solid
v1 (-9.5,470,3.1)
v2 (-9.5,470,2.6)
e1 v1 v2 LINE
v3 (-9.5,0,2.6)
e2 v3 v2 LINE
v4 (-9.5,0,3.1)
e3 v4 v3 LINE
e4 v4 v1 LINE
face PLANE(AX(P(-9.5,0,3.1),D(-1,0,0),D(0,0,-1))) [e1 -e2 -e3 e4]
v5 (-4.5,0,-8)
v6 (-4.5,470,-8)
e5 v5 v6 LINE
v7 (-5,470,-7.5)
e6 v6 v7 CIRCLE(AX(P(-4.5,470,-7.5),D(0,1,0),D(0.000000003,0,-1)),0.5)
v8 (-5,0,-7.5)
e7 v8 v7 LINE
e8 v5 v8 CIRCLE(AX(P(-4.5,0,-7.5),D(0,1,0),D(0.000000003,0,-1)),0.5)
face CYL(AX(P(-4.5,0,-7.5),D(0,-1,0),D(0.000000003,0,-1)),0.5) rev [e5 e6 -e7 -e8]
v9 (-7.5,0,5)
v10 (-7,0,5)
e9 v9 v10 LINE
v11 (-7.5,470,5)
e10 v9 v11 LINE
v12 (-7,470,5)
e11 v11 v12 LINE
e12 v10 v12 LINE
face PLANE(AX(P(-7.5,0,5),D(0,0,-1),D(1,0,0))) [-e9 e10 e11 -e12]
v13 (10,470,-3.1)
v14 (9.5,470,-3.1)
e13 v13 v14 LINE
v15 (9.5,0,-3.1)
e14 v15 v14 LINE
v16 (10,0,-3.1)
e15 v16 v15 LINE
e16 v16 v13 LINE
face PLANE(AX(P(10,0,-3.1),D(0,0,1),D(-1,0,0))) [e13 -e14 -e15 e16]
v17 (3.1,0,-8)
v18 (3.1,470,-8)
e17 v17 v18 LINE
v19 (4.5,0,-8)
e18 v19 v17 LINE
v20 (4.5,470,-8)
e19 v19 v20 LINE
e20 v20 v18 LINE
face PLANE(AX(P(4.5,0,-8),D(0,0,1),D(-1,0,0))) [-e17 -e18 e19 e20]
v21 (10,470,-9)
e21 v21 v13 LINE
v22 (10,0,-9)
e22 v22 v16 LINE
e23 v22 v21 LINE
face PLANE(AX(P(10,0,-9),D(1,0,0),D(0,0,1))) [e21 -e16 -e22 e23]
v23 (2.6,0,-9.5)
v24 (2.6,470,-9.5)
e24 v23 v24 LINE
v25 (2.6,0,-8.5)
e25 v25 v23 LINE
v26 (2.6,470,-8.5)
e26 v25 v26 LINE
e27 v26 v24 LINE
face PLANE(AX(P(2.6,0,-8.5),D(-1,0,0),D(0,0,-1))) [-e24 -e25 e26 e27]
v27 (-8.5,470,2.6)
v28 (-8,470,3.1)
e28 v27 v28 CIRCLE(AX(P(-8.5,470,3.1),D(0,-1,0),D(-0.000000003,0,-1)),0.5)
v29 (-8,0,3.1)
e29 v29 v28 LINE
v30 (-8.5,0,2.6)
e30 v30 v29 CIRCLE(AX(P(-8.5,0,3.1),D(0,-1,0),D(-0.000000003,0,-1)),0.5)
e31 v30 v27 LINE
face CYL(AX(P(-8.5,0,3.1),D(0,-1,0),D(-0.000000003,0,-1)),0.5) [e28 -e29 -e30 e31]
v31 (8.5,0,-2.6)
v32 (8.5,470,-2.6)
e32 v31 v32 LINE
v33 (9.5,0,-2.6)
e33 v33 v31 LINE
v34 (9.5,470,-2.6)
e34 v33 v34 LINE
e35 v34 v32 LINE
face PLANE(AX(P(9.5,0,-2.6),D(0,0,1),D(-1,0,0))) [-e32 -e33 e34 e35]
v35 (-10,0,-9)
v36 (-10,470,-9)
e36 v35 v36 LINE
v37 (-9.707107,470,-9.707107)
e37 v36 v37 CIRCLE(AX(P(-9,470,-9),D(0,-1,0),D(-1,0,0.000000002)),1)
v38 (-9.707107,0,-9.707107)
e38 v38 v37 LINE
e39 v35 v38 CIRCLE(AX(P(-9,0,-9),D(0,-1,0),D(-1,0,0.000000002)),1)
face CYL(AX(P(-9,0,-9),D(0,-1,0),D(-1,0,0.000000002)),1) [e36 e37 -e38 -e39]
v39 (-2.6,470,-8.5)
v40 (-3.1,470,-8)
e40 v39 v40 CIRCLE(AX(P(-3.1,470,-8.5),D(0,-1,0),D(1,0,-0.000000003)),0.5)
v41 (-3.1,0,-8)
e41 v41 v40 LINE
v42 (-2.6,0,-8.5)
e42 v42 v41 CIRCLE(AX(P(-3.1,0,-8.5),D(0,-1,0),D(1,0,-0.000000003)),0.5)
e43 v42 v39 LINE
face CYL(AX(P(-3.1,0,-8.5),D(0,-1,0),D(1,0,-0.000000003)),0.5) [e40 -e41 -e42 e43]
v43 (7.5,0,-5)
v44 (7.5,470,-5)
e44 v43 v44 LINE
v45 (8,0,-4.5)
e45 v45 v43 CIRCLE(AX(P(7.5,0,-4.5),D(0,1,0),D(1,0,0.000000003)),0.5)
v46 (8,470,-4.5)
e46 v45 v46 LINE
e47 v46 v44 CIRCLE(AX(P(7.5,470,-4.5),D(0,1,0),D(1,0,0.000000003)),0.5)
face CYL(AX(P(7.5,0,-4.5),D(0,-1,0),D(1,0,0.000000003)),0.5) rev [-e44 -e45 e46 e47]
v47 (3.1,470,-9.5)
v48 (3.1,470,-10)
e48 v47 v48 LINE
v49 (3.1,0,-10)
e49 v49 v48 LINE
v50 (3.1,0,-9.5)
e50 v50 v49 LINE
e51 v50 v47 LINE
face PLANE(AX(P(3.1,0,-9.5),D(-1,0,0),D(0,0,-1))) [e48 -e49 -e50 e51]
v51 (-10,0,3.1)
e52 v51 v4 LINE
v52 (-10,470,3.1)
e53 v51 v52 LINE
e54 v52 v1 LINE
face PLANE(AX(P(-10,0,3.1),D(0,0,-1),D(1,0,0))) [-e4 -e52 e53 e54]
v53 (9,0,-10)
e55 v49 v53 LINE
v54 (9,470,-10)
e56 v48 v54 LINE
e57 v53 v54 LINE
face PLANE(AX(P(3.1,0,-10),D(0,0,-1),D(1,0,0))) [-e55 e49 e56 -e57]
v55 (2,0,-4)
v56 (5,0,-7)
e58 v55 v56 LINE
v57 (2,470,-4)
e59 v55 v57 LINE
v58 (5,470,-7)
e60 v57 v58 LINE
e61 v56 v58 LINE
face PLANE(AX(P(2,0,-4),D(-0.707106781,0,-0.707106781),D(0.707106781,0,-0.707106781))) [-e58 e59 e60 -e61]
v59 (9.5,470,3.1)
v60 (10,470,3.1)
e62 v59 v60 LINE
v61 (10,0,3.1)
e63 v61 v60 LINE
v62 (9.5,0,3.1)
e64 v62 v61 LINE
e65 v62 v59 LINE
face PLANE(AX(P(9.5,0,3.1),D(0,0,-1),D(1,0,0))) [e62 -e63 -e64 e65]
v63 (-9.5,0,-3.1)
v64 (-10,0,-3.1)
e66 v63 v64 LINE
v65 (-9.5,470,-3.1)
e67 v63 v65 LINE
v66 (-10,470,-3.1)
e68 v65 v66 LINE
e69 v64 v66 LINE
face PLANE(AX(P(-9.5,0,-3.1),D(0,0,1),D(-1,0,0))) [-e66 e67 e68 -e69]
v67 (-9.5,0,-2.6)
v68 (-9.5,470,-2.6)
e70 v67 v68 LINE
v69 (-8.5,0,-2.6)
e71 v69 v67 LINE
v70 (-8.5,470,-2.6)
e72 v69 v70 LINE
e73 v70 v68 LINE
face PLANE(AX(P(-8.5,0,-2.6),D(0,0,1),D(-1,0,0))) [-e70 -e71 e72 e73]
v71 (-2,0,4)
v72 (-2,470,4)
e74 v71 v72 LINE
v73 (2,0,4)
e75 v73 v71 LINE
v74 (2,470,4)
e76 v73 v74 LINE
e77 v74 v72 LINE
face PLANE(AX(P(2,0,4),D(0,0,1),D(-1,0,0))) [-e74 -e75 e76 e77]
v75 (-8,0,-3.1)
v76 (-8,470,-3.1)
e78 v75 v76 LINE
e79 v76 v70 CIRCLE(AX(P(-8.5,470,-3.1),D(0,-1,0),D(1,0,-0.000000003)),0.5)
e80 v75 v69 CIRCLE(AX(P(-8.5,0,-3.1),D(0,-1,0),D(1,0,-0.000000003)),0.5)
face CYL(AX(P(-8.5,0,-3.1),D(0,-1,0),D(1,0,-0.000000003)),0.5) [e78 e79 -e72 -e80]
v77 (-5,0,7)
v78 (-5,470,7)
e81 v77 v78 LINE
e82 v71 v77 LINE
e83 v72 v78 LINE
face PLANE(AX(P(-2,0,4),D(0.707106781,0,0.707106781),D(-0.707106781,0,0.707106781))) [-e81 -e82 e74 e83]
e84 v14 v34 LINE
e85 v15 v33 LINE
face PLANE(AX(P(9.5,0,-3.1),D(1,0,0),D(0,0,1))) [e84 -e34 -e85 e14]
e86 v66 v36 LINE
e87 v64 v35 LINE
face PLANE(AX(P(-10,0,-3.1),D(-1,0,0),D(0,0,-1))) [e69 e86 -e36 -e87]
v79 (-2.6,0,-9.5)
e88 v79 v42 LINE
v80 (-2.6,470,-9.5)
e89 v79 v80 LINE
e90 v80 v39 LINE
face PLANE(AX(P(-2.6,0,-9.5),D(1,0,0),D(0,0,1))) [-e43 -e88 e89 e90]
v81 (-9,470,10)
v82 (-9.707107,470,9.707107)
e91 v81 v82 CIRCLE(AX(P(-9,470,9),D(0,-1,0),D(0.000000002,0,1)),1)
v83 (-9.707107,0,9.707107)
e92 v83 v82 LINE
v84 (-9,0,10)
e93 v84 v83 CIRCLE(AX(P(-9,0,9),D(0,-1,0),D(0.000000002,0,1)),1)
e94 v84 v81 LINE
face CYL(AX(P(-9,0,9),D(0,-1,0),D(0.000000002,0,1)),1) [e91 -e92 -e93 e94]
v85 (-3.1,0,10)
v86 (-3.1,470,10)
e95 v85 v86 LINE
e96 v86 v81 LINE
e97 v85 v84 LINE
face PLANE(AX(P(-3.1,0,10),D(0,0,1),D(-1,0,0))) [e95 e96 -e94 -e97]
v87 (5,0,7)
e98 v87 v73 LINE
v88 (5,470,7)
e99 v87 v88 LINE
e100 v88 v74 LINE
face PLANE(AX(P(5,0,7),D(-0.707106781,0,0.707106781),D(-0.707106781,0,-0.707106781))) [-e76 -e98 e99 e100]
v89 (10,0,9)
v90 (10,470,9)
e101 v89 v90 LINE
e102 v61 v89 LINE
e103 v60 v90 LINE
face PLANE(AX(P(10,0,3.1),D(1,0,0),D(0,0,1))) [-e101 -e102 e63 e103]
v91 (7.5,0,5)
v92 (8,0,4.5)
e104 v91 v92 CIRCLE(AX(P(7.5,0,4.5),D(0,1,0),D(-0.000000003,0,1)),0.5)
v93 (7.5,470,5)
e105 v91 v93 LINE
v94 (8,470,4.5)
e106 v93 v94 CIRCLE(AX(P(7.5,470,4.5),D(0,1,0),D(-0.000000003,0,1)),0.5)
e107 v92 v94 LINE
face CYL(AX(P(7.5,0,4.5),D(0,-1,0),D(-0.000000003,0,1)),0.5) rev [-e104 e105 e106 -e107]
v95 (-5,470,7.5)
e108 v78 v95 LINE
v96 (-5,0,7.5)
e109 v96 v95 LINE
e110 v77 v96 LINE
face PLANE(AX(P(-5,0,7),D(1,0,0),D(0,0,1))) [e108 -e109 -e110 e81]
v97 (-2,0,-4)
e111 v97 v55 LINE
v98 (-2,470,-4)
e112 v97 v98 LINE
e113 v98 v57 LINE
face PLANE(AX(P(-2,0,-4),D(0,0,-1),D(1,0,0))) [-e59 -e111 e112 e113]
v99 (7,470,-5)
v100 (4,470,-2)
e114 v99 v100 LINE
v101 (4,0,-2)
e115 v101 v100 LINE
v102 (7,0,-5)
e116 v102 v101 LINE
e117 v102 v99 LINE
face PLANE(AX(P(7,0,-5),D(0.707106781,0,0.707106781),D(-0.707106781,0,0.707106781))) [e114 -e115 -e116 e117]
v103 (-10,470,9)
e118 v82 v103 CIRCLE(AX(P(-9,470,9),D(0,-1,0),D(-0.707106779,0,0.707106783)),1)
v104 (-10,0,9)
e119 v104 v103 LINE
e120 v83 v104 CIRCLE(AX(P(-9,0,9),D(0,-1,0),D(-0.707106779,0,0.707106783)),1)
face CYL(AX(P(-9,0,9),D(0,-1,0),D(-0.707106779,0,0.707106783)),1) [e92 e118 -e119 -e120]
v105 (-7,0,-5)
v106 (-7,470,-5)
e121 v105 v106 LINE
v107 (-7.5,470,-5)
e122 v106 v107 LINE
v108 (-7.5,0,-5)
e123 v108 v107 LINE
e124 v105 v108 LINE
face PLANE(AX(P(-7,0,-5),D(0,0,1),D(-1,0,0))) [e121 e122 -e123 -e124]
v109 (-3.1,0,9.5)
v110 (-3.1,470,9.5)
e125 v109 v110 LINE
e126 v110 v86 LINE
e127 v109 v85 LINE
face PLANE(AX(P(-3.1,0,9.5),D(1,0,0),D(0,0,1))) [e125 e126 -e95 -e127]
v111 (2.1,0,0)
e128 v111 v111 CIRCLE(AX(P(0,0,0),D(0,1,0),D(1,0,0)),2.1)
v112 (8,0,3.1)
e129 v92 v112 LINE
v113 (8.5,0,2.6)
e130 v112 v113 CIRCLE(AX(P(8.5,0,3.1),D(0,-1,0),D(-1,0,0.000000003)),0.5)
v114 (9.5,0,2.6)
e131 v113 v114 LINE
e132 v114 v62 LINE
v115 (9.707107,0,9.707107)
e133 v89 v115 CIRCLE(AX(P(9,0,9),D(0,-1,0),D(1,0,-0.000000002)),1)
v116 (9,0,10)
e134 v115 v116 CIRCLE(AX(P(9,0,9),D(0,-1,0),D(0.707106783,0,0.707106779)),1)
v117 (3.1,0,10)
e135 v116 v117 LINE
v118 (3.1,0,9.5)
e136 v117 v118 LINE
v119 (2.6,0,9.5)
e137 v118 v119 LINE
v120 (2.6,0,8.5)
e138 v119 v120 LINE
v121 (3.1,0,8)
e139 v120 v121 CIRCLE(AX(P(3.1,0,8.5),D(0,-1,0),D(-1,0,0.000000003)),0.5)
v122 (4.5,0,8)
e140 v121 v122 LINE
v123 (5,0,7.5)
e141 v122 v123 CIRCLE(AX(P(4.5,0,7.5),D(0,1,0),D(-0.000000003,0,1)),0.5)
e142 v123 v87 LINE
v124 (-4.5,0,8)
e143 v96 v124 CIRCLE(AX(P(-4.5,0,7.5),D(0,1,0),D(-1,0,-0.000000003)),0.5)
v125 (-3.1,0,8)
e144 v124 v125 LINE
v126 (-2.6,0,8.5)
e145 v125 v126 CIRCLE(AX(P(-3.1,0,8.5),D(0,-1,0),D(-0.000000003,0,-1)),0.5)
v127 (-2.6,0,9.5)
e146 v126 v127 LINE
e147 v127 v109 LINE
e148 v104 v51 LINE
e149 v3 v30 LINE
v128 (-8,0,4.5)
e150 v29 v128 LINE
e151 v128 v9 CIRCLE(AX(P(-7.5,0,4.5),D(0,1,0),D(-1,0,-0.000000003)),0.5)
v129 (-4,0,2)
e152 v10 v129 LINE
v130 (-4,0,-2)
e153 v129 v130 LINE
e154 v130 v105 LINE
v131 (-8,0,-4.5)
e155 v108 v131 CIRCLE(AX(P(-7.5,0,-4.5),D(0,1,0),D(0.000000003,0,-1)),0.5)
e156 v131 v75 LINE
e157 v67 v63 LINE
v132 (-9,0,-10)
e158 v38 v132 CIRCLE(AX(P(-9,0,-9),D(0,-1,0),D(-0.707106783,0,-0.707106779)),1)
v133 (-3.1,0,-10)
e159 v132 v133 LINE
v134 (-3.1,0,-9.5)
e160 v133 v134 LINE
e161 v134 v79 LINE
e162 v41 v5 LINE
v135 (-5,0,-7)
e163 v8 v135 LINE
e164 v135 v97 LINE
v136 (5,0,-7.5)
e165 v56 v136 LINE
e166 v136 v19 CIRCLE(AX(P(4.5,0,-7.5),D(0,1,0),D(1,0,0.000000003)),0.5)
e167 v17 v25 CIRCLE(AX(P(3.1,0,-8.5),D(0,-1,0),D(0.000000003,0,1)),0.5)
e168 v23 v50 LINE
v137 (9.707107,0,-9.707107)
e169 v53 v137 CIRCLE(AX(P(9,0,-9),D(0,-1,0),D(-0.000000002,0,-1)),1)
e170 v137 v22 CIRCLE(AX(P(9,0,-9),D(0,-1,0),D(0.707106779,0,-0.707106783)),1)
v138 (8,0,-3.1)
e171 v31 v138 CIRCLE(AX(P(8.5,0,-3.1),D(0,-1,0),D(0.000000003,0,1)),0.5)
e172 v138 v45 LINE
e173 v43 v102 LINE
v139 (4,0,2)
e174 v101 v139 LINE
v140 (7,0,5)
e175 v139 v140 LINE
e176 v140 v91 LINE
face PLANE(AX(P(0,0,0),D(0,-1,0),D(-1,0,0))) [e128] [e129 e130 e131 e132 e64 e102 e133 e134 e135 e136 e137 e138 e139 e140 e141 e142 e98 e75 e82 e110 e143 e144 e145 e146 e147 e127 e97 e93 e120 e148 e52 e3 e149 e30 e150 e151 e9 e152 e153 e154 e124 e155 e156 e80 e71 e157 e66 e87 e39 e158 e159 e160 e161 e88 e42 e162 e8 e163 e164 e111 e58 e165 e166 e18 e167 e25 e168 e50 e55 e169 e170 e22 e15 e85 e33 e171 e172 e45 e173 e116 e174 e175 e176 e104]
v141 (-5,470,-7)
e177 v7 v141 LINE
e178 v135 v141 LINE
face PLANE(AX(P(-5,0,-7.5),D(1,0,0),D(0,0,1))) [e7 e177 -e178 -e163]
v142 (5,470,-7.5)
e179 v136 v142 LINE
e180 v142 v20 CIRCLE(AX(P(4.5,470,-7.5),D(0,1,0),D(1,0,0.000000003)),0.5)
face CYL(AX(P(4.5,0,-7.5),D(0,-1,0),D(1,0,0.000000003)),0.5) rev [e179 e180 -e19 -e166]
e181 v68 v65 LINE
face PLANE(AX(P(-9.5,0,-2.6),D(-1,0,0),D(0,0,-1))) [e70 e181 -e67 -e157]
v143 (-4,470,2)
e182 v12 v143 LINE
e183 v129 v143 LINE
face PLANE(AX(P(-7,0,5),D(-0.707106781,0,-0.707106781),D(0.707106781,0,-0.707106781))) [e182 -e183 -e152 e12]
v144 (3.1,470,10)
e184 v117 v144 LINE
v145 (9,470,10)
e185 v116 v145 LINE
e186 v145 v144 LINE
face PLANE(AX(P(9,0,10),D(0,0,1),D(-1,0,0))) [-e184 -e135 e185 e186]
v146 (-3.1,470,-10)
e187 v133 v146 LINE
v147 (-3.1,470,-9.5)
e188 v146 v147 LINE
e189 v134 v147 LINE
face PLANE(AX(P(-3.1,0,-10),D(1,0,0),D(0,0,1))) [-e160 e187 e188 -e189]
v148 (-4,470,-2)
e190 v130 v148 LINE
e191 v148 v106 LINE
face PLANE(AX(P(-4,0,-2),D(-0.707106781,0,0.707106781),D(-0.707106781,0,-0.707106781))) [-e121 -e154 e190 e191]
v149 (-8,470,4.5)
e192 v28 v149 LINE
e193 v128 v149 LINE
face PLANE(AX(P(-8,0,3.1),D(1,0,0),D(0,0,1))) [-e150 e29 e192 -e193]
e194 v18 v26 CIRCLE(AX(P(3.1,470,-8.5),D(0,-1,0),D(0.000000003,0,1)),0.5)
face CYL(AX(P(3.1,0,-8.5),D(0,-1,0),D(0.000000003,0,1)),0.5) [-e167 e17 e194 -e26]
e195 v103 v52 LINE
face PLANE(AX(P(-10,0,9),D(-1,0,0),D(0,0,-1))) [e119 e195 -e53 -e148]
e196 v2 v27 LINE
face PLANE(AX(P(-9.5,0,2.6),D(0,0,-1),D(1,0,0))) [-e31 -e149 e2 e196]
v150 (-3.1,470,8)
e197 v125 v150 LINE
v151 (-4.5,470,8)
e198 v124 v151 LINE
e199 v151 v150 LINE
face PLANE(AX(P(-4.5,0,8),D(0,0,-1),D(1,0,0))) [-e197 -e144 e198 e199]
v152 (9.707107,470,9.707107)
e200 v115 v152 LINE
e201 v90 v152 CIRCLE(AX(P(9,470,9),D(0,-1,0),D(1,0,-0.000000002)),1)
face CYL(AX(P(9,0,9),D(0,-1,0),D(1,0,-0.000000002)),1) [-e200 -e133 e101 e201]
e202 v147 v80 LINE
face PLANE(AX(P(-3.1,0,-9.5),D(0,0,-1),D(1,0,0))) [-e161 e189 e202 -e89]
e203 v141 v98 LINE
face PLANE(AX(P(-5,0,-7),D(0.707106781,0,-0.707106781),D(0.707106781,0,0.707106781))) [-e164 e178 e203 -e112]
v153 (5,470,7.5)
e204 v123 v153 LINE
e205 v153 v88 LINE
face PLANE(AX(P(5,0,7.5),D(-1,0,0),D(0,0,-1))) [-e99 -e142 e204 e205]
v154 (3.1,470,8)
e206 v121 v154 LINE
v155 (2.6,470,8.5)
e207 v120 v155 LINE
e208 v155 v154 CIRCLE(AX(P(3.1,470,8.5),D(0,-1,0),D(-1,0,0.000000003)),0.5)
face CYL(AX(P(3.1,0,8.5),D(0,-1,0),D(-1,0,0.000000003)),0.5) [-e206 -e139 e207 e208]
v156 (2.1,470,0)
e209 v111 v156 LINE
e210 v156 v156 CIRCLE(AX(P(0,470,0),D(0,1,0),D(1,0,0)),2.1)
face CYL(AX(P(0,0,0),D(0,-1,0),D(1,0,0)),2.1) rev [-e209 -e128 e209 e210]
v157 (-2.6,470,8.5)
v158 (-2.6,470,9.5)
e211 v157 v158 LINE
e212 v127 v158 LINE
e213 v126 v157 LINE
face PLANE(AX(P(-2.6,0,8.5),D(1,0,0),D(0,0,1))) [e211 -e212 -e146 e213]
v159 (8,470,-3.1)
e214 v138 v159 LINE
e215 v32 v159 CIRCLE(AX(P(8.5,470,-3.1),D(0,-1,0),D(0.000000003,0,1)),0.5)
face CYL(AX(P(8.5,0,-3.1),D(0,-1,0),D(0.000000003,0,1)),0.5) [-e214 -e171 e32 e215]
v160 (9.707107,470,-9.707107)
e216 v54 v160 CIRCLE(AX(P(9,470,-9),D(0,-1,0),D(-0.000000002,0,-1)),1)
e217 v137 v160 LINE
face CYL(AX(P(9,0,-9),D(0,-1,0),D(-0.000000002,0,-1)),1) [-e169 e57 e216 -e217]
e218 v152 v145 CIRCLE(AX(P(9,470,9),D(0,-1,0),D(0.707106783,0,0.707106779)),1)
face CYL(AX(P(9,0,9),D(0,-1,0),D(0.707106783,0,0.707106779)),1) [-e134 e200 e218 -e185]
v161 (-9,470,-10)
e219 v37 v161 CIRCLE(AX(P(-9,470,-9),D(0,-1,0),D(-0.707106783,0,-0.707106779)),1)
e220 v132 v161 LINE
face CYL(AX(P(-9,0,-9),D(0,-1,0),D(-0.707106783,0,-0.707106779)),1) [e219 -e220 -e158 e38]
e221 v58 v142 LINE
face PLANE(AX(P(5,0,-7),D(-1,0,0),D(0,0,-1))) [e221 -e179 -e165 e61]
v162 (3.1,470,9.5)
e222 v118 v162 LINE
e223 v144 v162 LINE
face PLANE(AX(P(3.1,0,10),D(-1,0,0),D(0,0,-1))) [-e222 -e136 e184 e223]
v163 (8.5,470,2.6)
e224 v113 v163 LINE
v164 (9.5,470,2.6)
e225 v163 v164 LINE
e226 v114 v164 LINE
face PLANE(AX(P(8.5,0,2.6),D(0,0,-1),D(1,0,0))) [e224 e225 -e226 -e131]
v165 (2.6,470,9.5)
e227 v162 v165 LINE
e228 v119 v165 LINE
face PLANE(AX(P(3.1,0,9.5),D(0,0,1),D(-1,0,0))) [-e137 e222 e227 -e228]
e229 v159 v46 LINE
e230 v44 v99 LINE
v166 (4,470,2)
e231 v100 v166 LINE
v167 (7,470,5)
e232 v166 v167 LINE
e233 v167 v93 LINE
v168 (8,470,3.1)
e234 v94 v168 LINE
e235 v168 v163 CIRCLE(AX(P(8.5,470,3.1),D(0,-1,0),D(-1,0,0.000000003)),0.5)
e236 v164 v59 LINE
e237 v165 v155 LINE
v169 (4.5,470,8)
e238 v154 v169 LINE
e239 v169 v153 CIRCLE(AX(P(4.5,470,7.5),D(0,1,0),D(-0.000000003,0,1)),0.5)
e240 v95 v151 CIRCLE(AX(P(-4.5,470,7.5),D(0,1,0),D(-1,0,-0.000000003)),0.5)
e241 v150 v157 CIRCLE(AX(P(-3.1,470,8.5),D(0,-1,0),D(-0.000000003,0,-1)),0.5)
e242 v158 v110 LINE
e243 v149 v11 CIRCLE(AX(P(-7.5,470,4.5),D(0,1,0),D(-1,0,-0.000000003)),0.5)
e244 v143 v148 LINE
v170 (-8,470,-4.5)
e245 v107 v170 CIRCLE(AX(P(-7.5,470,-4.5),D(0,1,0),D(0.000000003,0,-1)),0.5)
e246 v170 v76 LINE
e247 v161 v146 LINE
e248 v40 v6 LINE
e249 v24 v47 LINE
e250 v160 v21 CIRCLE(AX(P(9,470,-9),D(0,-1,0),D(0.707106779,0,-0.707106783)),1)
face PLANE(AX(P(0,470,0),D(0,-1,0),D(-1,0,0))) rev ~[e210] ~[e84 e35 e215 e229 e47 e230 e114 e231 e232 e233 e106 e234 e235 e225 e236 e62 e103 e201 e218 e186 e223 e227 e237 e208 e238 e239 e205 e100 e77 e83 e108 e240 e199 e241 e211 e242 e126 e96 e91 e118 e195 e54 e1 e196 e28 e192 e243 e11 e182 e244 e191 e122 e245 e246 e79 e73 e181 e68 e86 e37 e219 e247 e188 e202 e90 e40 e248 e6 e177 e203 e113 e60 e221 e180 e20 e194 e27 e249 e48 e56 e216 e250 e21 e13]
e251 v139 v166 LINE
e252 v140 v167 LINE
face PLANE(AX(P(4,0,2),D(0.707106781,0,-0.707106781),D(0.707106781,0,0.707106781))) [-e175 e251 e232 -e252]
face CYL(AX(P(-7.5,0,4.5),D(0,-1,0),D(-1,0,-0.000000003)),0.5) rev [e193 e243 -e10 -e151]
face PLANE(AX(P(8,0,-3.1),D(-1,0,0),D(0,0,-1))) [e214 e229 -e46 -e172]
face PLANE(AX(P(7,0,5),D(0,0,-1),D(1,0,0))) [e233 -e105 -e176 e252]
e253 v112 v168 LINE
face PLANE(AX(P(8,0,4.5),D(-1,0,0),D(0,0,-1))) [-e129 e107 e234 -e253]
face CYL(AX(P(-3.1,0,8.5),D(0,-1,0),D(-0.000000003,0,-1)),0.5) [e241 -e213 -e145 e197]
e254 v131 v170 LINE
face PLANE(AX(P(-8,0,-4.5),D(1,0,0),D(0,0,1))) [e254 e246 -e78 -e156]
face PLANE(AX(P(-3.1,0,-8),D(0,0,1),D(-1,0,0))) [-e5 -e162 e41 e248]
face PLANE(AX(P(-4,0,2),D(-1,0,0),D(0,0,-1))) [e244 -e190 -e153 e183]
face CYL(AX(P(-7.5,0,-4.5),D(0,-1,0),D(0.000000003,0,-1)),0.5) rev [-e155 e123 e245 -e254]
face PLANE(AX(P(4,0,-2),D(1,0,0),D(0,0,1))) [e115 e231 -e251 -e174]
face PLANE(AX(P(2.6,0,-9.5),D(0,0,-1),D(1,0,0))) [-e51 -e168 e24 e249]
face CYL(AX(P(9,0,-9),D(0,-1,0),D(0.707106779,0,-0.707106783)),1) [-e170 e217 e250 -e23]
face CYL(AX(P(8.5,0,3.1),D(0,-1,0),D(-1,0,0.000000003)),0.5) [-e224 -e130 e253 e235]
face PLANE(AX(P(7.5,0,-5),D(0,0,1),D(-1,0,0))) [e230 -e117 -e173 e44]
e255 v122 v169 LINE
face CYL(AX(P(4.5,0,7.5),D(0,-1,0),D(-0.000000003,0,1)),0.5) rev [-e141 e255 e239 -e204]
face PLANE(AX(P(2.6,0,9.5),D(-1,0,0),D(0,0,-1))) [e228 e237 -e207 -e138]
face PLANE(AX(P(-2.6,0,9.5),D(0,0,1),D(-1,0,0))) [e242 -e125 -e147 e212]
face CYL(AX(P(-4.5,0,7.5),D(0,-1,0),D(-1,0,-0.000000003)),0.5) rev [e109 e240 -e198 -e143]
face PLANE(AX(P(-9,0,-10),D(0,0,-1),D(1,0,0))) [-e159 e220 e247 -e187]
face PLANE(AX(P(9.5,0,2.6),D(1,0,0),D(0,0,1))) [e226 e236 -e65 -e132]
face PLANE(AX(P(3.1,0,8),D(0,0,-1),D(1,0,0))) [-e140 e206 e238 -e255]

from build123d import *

# Parameters (mm, degrees)
SKETCH_1_R      = 2.1
EXTRUDE_1_DEPTH = 470


with BuildPart() as part:
    # 스케치1 → 보스-돌출1 (new body)
    with BuildSketch(Plane(origin=(0, 0, 0), x_dir=(1, 0, 0), z_dir=(0, 1, 0))):
        with BuildLine():
            Line((2, -4), (-2, -4))
            Line((-2, -4), (-5, -7))
            Line((-5, -7), (-5, -7.5))
            ThreePointArc((-5, -7.5), (-4.853553391, -7.853553391), (-4.5, -8))
            Line((-4.5, -8), (-3.1, -8))
            ThreePointArc((-3.1, -8), (-2.746446609, -8.146446609), (-2.6, -8.5))
            Line((-2.6, -8.5), (-2.6, -9.5))
            Line((-2.6, -9.5), (-3.1, -9.5))
            Line((-3.1, -9.5), (-3.1, -10))
            Line((-3.1, -10), (-9, -10))
            ThreePointArc((-9, -10), (-9.382683432, -9.923879533), (-9.707106781, -9.707106781))
            ThreePointArc((-9.707106781, -9.707106781), (-9.923879533, -9.382683432), (-10, -9))
            Line((-10, -9), (-10, -3.1))
            Line((-10, -3.1), (-9.5, -3.1))
            Line((-9.5, -3.1), (-9.5, -2.6))
            Line((-9.5, -2.6), (-8.5, -2.6))
            ThreePointArc((-8.5, -2.6), (-8.146446609, -2.746446609), (-8, -3.1))
            Line((-8, -3.1), (-8, -4.5))
            ThreePointArc((-8, -4.5), (-7.853553391, -4.853553391), (-7.5, -5))
            Line((-7.5, -5), (-7, -5))
            Line((-7, -5), (-4, -2))
            Line((-4, -2), (-4, 2))
            Line((-4, 2), (-7, 5))
            Line((-7, 5), (-7.5, 5))
            ThreePointArc((-7.5, 5), (-7.853553391, 4.853553391), (-8, 4.5))
            Line((-8, 4.5), (-8, 3.1))
            ThreePointArc((-8, 3.1), (-8.146446609, 2.746446609), (-8.5, 2.6))
            Line((-8.5, 2.6), (-9.5, 2.6))
            Line((-9.5, 2.6), (-9.5, 3.1))
            Line((-9.5, 3.1), (-10, 3.1))
            Line((-10, 3.1), (-10, 9))
            ThreePointArc((-10, 9), (-9.923879533, 9.382683432), (-9.707106781, 9.707106781))
            ThreePointArc((-9.707106781, 9.707106781), (-9.382683432, 9.923879533), (-9, 10))
            Line((-9, 10), (-3.1, 10))
            Line((-3.1, 10), (-3.1, 9.5))
            Line((-3.1, 9.5), (-2.6, 9.5))
            Line((-2.6, 9.5), (-2.6, 8.5))
            ThreePointArc((-2.6, 8.5), (-2.746446609, 8.146446609), (-3.1, 8))
            Line((-3.1, 8), (-4.5, 8))
            ThreePointArc((-4.5, 8), (-4.853553391, 7.853553391), (-5, 7.5))
            Line((-5, 7.5), (-5, 7))
            Line((-5, 7), (-2, 4))
            Line((-2, 4), (2, 4))
            Line((2, 4), (5, 7))
            Line((5, 7), (5, 7.5))
            ThreePointArc((5, 7.5), (4.853553391, 7.853553391), (4.5, 8))
            Line((4.5, 8), (3.1, 8))
            ThreePointArc((3.1, 8), (2.746446609, 8.146446609), (2.6, 8.5))
            Line((2.6, 8.5), (2.6, 9.5))
            Line((2.6, 9.5), (3.1, 9.5))
            Line((3.1, 9.5), (3.1, 10))
            Line((3.1, 10), (9, 10))
            ThreePointArc((9, 10), (9.382683432, 9.923879533), (9.707106781, 9.707106781))
            ThreePointArc((9.707106781, 9.707106781), (9.923879533, 9.382683432), (10, 9))
            Line((10, 9), (10, 3.1))
            Line((10, 3.1), (9.5, 3.1))
            Line((9.5, 3.1), (9.5, 2.6))
            Line((9.5, 2.6), (8.5, 2.6))
            ThreePointArc((8.5, 2.6), (8.146446609, 2.746446609), (8, 3.1))
            Line((8, 3.1), (8, 4.5))
            ThreePointArc((8, 4.5), (7.853553391, 4.853553391), (7.5, 5))
            Line((7.5, 5), (7, 5))
            Line((7, 5), (4, 2))
            Line((4, 2), (4, -2))
            Line((4, -2), (7, -5))
            Line((7, -5), (7.5, -5))
            ThreePointArc((7.5, -5), (7.853553391, -4.853553391), (8, -4.5))
            Line((8, -4.5), (8, -3.1))
            ThreePointArc((8, -3.1), (8.146446609, -2.746446609), (8.5, -2.6))
            Line((8.5, -2.6), (9.5, -2.6))
            Line((9.5, -2.6), (9.5, -3.1))
            Line((9.5, -3.1), (10, -3.1))
            Line((10, -3.1), (10, -9))
            ThreePointArc((10, -9), (9.923879533, -9.382683432), (9.707106781, -9.707106781))
            ThreePointArc((9.707106781, -9.707106781), (9.382683432, -9.923879533), (9, -10))
            Line((9, -10), (3.1, -10))
            Line((3.1, -10), (3.1, -9.5))
            Line((3.1, -9.5), (2.6, -9.5))
            Line((2.6, -9.5), (2.6, -8.5))
            ThreePointArc((2.6, -8.5), (2.746446609, -8.146446609), (3.1, -8))
            Line((3.1, -8), (4.5, -8))
            ThreePointArc((4.5, -8), (4.853553391, -7.853553391), (5, -7.5))
            Line((5, -7.5), (5, -7))
            Line((5, -7), (2, -4))
        make_face()
        Circle(SKETCH_1_R, mode=Mode.SUBTRACT)
    extrude(amount=EXTRUDE_1_DEPTH)


solid = part.part
